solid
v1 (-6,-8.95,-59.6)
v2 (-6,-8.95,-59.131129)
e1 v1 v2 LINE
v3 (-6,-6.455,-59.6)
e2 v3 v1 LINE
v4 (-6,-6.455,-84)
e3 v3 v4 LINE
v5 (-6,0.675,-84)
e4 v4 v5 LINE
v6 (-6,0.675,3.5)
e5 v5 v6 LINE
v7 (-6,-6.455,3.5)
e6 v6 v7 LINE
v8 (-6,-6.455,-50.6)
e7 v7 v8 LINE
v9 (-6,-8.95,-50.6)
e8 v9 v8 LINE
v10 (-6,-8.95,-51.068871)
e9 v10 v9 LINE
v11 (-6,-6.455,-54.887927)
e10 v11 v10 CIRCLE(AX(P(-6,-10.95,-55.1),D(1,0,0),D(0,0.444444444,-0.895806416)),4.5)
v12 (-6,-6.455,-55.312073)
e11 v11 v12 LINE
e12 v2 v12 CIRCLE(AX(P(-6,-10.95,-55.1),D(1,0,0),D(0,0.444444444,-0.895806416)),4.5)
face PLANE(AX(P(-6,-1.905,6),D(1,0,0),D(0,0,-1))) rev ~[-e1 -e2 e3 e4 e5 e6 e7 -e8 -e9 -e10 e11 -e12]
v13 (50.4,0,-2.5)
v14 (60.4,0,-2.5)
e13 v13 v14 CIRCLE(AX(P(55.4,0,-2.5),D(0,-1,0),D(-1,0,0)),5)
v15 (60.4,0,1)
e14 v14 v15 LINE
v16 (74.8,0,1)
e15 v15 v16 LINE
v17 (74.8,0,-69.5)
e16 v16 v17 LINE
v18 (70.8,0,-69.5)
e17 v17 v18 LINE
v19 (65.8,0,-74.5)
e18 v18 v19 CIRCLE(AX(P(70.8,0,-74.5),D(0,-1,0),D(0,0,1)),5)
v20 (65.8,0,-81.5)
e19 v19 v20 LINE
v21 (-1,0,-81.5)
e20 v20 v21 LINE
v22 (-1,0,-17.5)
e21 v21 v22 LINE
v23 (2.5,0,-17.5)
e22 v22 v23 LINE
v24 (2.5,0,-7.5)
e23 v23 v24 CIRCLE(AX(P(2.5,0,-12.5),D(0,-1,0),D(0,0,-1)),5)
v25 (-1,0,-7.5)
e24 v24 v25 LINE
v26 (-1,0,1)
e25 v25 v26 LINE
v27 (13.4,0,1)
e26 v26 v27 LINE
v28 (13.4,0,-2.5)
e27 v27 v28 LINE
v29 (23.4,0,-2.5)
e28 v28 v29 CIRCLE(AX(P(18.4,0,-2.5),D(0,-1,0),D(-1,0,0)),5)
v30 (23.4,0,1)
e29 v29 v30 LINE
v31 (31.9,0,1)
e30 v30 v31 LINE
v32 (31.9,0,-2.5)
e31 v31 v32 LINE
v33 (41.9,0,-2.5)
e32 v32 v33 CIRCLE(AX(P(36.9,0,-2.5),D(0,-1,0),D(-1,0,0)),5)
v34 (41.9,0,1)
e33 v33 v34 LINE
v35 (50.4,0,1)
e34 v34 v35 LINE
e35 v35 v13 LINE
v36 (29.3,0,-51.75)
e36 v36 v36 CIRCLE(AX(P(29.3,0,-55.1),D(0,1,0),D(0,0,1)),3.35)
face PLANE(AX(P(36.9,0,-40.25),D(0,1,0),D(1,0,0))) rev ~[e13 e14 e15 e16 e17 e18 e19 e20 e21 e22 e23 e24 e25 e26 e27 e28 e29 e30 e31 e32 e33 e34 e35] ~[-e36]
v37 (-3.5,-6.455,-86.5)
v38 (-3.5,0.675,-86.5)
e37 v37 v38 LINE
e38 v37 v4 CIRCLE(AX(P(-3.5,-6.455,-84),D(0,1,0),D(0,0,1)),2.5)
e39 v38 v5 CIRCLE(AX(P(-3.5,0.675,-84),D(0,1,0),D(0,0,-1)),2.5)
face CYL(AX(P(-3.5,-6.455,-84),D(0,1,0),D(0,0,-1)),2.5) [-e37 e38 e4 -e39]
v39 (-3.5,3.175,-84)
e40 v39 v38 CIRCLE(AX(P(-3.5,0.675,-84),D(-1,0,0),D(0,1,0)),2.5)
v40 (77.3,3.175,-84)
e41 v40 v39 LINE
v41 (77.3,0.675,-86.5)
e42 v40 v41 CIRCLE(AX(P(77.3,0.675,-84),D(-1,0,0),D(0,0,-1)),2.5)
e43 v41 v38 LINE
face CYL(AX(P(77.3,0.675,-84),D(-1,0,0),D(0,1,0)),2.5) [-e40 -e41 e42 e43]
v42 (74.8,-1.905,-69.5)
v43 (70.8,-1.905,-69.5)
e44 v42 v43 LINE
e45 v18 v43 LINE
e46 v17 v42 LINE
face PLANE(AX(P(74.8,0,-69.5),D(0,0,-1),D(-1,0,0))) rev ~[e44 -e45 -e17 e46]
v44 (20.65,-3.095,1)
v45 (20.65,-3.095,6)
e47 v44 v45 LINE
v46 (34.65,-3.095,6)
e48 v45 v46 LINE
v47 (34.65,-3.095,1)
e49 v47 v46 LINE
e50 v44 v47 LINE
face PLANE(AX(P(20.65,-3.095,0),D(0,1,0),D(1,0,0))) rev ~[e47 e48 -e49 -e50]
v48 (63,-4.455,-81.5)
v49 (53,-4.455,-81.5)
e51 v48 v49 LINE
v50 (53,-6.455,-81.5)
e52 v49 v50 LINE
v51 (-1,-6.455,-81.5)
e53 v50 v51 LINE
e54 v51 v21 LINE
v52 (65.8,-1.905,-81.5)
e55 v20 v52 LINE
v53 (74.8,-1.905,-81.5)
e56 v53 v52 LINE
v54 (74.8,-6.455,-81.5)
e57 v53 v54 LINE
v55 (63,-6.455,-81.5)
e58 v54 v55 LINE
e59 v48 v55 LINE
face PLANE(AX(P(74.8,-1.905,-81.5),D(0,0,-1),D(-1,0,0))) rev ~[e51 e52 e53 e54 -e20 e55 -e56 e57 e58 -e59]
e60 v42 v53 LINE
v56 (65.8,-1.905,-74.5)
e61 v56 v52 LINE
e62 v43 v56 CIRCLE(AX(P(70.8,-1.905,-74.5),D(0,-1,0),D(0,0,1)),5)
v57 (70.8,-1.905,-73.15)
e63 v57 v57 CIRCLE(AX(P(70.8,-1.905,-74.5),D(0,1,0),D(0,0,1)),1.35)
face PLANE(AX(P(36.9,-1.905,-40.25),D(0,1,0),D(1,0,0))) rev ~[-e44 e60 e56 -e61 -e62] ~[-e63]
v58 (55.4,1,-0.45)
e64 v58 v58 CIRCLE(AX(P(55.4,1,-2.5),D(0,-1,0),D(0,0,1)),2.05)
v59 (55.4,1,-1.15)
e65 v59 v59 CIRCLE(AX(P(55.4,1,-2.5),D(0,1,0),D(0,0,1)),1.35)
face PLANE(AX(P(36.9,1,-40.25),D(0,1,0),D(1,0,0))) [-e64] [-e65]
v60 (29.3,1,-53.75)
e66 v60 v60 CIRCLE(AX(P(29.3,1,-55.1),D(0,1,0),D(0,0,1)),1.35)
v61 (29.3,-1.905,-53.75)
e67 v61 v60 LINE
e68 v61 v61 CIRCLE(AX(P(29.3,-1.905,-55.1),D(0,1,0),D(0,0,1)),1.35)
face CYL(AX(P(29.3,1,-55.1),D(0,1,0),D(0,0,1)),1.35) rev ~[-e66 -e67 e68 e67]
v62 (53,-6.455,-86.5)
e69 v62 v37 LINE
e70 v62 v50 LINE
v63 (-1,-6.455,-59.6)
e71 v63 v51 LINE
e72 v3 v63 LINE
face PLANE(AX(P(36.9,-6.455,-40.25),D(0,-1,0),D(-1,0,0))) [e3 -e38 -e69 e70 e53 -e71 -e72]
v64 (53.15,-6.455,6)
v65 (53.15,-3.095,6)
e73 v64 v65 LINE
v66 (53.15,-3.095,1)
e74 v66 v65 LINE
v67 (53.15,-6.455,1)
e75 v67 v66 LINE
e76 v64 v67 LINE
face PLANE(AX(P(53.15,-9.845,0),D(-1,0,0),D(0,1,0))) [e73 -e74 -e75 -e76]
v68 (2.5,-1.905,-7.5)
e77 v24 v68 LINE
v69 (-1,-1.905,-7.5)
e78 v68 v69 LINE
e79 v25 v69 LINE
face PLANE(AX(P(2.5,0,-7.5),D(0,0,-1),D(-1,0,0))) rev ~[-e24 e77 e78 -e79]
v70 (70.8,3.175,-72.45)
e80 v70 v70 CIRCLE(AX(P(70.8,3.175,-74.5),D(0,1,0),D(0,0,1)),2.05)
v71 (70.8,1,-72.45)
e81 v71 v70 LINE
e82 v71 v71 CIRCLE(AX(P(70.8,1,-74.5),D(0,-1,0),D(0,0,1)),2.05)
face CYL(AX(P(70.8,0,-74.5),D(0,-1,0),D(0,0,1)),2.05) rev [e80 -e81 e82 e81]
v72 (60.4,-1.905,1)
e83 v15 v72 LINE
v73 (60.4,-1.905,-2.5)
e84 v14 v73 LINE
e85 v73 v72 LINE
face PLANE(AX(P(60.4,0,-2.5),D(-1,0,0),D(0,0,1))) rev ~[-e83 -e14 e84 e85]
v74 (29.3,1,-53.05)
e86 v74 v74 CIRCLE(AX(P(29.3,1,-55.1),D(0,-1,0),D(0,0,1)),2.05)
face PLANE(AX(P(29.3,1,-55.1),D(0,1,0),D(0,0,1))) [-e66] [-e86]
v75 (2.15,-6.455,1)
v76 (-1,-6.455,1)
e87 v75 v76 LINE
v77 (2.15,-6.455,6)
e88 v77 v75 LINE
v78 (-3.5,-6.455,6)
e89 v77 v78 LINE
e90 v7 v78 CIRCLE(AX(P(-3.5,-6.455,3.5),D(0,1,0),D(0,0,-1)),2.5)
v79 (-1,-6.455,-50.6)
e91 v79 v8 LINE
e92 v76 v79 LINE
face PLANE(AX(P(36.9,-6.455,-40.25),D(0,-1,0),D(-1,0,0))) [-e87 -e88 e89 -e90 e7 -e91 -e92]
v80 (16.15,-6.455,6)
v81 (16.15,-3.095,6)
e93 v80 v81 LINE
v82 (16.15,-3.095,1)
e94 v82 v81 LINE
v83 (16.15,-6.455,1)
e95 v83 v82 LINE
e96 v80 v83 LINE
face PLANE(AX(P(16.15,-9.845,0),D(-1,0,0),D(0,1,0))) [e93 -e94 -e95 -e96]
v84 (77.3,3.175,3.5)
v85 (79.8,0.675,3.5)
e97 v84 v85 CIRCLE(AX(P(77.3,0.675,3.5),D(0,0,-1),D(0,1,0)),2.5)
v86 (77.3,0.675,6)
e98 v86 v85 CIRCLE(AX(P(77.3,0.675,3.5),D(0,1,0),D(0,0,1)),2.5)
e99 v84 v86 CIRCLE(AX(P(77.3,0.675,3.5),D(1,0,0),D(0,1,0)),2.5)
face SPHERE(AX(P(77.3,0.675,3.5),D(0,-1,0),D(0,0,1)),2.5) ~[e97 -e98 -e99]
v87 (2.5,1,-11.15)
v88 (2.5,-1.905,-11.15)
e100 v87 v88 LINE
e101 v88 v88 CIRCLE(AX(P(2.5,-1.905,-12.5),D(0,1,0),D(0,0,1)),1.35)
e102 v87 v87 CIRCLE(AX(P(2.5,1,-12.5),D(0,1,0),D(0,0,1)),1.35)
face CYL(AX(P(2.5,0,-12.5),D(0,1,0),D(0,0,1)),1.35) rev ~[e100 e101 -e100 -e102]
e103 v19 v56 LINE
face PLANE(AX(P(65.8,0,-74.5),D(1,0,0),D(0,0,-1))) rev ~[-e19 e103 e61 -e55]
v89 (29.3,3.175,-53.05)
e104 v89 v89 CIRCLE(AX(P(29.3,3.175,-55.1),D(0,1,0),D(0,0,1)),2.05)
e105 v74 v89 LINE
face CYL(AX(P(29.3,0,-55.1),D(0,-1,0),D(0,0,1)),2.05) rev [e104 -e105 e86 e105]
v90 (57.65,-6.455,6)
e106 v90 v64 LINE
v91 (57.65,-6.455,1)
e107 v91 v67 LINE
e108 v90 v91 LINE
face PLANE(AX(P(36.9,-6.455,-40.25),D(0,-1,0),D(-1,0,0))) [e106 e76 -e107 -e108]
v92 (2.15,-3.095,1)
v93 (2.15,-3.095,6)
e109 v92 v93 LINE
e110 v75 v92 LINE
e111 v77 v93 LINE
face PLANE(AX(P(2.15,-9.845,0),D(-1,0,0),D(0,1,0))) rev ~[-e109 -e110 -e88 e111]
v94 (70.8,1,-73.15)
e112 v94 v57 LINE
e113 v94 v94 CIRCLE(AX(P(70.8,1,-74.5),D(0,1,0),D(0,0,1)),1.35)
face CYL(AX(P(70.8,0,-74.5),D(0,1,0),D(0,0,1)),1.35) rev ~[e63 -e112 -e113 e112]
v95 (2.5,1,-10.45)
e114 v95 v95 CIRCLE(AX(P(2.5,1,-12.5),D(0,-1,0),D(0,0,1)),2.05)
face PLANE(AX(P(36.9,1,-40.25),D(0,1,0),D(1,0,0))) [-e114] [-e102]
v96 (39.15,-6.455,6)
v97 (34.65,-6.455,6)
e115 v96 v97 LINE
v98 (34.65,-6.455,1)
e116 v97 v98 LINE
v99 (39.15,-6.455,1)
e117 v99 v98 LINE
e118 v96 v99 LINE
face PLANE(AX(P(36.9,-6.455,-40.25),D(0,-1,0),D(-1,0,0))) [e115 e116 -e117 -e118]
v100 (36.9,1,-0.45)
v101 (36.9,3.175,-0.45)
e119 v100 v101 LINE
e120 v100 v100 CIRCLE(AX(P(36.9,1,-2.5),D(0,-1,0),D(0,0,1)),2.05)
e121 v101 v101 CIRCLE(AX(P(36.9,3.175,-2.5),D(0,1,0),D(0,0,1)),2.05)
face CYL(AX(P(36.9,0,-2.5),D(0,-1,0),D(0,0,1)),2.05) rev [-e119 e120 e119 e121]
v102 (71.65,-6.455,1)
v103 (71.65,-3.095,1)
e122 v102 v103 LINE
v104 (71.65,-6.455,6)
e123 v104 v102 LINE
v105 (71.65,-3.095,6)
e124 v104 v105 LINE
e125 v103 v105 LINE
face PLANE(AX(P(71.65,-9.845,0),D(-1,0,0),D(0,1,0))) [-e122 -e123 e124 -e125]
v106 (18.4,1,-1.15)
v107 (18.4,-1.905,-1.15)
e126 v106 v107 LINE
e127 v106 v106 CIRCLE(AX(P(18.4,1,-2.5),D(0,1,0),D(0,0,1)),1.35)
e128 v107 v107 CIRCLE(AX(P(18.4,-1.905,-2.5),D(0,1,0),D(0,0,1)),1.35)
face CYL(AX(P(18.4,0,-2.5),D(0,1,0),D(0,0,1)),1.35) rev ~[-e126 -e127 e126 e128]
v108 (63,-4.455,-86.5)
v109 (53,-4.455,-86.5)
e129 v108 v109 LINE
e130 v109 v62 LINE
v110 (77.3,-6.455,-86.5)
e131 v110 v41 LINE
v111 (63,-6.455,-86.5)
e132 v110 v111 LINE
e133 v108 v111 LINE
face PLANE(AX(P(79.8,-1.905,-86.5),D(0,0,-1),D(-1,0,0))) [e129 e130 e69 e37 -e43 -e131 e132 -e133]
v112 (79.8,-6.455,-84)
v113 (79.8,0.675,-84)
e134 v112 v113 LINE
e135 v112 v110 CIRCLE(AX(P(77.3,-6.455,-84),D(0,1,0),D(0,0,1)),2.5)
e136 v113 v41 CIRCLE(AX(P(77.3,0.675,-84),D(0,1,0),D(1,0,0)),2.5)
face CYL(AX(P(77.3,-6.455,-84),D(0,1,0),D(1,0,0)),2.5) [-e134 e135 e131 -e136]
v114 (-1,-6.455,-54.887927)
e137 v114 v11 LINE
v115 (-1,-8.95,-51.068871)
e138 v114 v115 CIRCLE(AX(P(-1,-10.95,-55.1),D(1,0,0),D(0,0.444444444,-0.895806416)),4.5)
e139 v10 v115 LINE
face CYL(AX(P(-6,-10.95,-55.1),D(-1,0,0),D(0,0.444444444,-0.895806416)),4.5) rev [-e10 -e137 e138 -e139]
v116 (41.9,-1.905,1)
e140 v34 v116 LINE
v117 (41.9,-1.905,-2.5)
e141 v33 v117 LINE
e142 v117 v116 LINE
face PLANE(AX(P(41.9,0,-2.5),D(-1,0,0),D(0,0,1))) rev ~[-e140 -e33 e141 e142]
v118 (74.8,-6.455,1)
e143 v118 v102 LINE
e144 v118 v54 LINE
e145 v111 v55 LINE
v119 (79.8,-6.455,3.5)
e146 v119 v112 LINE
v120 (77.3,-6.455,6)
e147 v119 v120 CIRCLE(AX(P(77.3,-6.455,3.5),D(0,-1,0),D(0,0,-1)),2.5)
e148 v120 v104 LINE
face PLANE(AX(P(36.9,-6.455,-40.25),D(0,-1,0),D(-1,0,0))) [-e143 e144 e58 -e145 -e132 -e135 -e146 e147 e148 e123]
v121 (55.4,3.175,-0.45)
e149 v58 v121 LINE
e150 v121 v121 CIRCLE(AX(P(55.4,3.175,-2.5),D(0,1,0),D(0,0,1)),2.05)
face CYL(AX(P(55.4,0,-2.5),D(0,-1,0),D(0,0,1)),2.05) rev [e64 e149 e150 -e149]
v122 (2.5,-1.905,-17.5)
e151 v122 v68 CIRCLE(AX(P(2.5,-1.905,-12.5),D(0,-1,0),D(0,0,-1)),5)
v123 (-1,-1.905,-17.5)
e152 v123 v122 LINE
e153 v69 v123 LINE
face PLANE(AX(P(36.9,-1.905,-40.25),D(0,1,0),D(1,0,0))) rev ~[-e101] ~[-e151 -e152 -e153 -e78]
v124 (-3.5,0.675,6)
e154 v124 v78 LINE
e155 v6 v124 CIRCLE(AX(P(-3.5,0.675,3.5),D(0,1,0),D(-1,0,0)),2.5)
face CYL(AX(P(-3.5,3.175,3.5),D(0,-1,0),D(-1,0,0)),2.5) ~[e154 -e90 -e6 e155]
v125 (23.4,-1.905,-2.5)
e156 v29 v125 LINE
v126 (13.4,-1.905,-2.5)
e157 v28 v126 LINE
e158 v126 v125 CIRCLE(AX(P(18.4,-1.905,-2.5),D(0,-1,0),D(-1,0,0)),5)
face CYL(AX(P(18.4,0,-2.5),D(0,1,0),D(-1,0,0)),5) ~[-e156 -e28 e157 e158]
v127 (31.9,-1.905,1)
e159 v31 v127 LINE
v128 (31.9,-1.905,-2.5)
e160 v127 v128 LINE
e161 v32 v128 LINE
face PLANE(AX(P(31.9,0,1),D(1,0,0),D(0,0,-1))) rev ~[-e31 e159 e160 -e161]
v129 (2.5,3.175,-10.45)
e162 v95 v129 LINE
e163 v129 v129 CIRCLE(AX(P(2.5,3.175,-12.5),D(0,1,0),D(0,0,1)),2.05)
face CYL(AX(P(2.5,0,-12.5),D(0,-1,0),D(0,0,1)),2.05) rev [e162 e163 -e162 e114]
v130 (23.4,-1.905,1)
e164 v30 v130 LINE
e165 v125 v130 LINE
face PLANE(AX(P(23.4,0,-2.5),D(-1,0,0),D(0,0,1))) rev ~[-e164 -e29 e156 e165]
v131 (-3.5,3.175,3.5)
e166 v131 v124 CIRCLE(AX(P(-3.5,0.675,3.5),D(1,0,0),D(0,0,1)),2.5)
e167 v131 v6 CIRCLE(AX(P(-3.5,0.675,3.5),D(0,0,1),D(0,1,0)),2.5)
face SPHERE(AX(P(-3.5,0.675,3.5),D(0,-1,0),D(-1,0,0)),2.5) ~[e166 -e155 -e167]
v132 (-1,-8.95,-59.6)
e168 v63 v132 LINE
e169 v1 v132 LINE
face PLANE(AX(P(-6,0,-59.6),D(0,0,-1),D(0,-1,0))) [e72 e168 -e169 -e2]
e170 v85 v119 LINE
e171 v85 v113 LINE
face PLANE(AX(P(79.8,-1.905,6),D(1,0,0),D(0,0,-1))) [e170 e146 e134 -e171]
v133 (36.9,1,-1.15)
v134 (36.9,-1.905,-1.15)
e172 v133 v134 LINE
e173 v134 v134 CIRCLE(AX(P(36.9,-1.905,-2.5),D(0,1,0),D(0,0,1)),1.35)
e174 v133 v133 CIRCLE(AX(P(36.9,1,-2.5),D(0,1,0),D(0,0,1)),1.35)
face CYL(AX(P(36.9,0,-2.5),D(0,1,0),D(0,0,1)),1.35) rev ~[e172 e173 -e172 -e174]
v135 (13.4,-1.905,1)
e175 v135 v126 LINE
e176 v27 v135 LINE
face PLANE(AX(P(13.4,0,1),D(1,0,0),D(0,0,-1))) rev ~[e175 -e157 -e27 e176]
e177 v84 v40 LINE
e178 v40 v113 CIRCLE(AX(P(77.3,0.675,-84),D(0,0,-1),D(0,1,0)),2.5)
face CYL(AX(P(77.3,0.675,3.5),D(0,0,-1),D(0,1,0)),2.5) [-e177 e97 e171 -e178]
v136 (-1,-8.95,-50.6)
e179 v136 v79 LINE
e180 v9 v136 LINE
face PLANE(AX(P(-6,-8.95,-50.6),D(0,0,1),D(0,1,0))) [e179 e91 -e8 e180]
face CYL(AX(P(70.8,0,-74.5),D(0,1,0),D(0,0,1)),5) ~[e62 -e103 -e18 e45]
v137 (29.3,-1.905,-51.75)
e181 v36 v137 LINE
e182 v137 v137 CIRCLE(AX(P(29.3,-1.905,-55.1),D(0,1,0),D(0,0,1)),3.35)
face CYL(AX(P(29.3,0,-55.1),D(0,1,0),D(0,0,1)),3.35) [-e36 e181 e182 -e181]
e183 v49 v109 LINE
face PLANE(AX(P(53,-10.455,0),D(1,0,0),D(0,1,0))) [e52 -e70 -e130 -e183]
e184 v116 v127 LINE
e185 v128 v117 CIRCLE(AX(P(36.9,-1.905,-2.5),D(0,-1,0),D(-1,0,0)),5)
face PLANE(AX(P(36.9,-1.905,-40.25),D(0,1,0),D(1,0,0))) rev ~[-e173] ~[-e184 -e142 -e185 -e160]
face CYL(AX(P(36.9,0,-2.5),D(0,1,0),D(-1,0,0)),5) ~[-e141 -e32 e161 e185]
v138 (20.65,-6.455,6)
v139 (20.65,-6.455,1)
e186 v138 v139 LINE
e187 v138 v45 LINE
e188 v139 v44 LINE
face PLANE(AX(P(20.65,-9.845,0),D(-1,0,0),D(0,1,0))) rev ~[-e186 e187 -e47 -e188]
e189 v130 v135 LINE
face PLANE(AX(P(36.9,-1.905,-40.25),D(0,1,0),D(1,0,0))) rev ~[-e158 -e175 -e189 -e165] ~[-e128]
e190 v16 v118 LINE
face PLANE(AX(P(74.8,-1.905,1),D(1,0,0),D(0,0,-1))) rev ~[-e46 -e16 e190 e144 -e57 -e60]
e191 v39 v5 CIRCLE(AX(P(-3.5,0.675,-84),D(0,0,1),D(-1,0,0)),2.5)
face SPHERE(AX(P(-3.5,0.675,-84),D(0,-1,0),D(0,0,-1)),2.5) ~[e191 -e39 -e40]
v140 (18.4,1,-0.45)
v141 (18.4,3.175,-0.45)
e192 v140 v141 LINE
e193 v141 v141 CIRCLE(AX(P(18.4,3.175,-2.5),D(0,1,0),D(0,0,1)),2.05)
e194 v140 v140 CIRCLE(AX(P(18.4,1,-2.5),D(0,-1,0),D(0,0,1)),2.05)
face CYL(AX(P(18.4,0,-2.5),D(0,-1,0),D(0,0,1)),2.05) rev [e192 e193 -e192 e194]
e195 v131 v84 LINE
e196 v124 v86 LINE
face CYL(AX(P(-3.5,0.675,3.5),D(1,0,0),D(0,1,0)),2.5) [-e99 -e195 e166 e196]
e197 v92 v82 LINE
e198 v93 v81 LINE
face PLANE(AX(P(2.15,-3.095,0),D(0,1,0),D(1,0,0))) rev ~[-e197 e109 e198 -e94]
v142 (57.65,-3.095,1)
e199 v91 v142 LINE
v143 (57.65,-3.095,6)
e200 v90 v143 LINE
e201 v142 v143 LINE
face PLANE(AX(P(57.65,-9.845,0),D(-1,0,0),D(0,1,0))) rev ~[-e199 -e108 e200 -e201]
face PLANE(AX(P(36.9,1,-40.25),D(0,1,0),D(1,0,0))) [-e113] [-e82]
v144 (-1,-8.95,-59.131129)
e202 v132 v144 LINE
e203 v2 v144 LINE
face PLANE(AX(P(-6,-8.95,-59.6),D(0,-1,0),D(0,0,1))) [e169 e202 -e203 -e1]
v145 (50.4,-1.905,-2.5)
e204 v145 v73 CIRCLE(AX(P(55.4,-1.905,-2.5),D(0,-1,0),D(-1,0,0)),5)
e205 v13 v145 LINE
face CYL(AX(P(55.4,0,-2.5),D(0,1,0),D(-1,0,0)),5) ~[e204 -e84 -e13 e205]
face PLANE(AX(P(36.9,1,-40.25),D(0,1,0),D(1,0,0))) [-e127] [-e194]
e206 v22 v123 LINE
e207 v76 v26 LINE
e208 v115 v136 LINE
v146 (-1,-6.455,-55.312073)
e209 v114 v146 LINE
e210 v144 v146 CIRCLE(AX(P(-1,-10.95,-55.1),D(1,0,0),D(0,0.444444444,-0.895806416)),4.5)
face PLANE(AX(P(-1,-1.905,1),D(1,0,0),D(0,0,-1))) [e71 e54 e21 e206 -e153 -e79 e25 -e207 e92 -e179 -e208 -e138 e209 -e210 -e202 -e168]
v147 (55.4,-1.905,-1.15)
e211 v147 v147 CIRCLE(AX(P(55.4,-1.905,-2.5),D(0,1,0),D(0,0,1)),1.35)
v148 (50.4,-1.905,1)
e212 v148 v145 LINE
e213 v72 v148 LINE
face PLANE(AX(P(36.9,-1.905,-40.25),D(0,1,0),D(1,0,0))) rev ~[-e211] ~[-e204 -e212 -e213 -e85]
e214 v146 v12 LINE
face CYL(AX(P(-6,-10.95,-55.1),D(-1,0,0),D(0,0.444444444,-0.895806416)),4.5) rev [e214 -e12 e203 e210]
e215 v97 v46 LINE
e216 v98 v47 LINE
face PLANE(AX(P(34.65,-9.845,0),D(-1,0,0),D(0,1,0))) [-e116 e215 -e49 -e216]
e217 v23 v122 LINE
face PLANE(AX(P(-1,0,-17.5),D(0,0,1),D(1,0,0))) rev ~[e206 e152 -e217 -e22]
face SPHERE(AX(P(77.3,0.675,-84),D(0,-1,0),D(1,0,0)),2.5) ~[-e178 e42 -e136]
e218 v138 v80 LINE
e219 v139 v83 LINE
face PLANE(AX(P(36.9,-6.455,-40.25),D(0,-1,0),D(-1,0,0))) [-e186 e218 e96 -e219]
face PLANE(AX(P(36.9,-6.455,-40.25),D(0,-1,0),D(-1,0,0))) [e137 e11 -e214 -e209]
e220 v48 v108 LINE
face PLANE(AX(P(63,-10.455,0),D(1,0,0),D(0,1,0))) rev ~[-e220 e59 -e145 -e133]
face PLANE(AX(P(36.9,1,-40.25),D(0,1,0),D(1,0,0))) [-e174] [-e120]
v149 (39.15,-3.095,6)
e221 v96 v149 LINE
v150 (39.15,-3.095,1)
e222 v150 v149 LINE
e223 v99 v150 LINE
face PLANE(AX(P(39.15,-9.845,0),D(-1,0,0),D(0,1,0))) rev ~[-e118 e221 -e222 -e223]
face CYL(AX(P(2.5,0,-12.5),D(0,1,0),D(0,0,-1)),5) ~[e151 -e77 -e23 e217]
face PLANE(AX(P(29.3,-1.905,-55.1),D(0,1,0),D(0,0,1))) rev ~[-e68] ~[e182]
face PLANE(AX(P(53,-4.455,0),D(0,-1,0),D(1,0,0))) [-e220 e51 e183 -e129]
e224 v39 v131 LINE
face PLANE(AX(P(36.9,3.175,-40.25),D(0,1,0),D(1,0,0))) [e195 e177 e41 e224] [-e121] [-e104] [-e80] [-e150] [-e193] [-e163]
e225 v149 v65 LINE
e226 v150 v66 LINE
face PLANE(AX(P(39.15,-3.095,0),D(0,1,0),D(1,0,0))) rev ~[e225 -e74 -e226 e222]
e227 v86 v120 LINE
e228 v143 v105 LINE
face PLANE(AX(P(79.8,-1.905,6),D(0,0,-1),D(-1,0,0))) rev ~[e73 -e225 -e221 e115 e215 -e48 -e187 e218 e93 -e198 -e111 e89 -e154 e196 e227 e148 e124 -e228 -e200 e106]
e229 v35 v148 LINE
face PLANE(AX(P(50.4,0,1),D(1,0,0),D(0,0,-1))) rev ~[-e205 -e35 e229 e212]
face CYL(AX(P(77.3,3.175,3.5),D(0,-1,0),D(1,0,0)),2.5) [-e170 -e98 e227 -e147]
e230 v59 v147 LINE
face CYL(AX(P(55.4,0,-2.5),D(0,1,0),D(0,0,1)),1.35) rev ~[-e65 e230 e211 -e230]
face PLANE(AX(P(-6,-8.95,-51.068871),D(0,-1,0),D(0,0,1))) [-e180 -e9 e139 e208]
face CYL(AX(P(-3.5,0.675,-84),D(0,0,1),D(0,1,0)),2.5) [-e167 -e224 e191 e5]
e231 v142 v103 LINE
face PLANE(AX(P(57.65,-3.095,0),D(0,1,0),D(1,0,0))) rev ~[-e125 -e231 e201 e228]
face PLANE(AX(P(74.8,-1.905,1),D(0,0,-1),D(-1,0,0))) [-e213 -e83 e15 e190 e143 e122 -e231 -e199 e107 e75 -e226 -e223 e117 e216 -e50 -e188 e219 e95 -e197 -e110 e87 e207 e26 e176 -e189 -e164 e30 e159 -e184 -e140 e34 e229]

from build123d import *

# Parameters (mm, degrees)
SKETCH1_W           = 85.8
SKETCH1_H           = 92.5
SKETCH1_R           = 2.05
BOSS_EXTRUDE1_DEPTH = 3.175
SKETCH2_W           = 85.8
SKETCH2_H           = 92.5
SKETCH2_R           = 1.35
SKETCH2_R_2         = 3.35
BOSS_EXTRUDE2_DEPTH = 1.905
BOSS_EXTRUDE3_START = 1
SKETCH2_3_W         = 85.8
SKETCH2_3_H         = 92.5
SKETCH2_3_R         = 1.35
SKETCH2_3_R_2       = 3.35
BOSS_EXTRUDE3_DEPTH = 1
SKETCH3_W           = 85.8
SKETCH3_H           = 92.5
SKETCH3_W_2         = 75.8
SKETCH3_H_2         = 82.5
BOSS_EXTRUDE4_DEPTH = 4.55
SKETCH4_W           = 14
SKETCH4_H           = 6.75
CUT_EXTRUDE1_DEPTH  = 118.864146478
SKETCH5_W           = 10
SKETCH5_H           = 6
CUT_EXTRUDE2_DEPTH  = 118.864146478
BOSS_EXTRUDE5_DEPTH = 5
FILLET1_R           = 2.5
FILLET2_R           = 2.5
FILLET3_R           = 2.5
FILLET4_R           = 2.5
FILLET5_R           = 2.5


with BuildPart() as part:
    # Sketch1 → Boss-Extrude1 (new body)
    with BuildSketch(Plane(origin=(0, 0, 0), x_dir=(1, 0, 0), z_dir=(0, 1, 0))):
        with Locations((36.9, 40.25)):
            Rectangle(SKETCH1_W, SKETCH1_H)
        with Locations((2.5, 12.5)):
            Circle(SKETCH1_R, mode=Mode.SUBTRACT)
        with Locations((18.4, 2.5)):
            Circle(SKETCH1_R, mode=Mode.SUBTRACT)
        with Locations((36.9, 2.5)):
            Circle(SKETCH1_R, mode=Mode.SUBTRACT)
        with Locations((55.4, 2.5)):
            Circle(SKETCH1_R, mode=Mode.SUBTRACT)
        with Locations((29.3, 55.1)):
            Circle(SKETCH1_R, mode=Mode.SUBTRACT)
        with Locations((70.8, 74.5)):
            Circle(SKETCH1_R, mode=Mode.SUBTRACT)
    extrude(amount=BOSS_EXTRUDE1_DEPTH)

    # Sketch2 → Boss-Extrude2 (add)
    # profile 1 of 2: a face of its own
    with BuildSketch(Plane(origin=(0, 0, 0), x_dir=(1, 0, 0), z_dir=(0, 1, 0))):
        with Locations((36.9, 40.25)):
            Rectangle(SKETCH2_W, SKETCH2_H)
        with Locations((2.5, 12.5)):
            Circle(SKETCH2_R, mode=Mode.SUBTRACT)
        with Locations((18.4, 2.5)):
            Circle(SKETCH2_R, mode=Mode.SUBTRACT)
        with Locations((36.9, 2.5)):
            Circle(SKETCH2_R, mode=Mode.SUBTRACT)
        with Locations((55.4, 2.5)):
            Circle(SKETCH2_R, mode=Mode.SUBTRACT)
        with BuildLine():
            Line((-1, 7.5), (2.5, 7.5))
            ThreePointArc((2.5, 7.5), (7.5, 12.5), (2.5, 17.5))
            Line((2.5, 17.5), (-1, 17.5))
            Line((-1, 17.5), (-1, 81.5))
            Line((-1, 81.5), (65.8, 81.5))
            Line((65.8, 81.5), (65.8, 74.5))
            ThreePointArc((65.8, 74.5), (67.264466094, 70.964466094), (70.8, 69.5))
            Line((70.8, 69.5), (74.8, 69.5))
            Line((74.8, 69.5), (74.8, -1))
            Line((74.8, -1), (60.4, -1))
            Line((60.4, -1), (60.4, 2.5))
            ThreePointArc((60.4, 2.5), (55.4, 7.5), (50.4, 2.5))
            Line((50.4, 2.5), (50.4, -1))
            Line((50.4, -1), (41.9, -1))
            Line((41.9, -1), (41.9, 2.5))
            ThreePointArc((41.9, 2.5), (36.9, 7.5), (31.9, 2.5))
            Line((31.9, 2.5), (31.9, -1))
            Line((31.9, -1), (23.4, -1))
            Line((23.4, -1), (23.4, 2.5))
            ThreePointArc((23.4, 2.5), (18.4, 7.5), (13.4, 2.5))
            Line((13.4, 2.5), (13.4, -1))
            Line((13.4, -1), (-1, -1))
            Line((-1, -1), (-1, 7.5))
        make_face(mode=Mode.SUBTRACT)
        with Locations((70.8, 74.5)):
            Circle(SKETCH2_R, mode=Mode.SUBTRACT)
    # profile 2 of 2: a face of its own
    with BuildSketch(Plane(origin=(0, 0, 0), x_dir=(1, 0, 0), z_dir=(0, 1, 0))):
        with Locations((29.3, 55.1)):
            Circle(SKETCH2_R_2)
        with Locations((29.3, 55.1)):
            Circle(SKETCH2_R, mode=Mode.SUBTRACT)
    extrude(amount=-BOSS_EXTRUDE2_DEPTH)

    # Sketch2<3> → Boss-Extrude3 (add)
    # profile 1 of 2: a face of its own
    with BuildSketch(Plane(origin=(0, 0, 0), x_dir=(1, 0, 0), z_dir=(0, 1, 0)).offset(BOSS_EXTRUDE3_START)):
        with Locations((36.9, 40.25)):
            Rectangle(SKETCH2_3_W, SKETCH2_3_H)
        with Locations((2.5, 12.5)):
            Circle(SKETCH2_3_R, mode=Mode.SUBTRACT)
        with Locations((18.4, 2.5)):
            Circle(SKETCH2_3_R, mode=Mode.SUBTRACT)
        with Locations((36.9, 2.5)):
            Circle(SKETCH2_3_R, mode=Mode.SUBTRACT)
        with Locations((55.4, 2.5)):
            Circle(SKETCH2_3_R, mode=Mode.SUBTRACT)
        with BuildLine():
            Line((-1, 7.5), (2.5, 7.5))
            ThreePointArc((2.5, 7.5), (7.5, 12.5), (2.5, 17.5))
            Line((2.5, 17.5), (-1, 17.5))
            Line((-1, 17.5), (-1, 81.5))
            Line((-1, 81.5), (65.8, 81.5))
            Line((65.8, 81.5), (65.8, 74.5))
            ThreePointArc((65.8, 74.5), (67.264466094, 70.964466094), (70.8, 69.5))
            Line((70.8, 69.5), (74.8, 69.5))
            Line((74.8, 69.5), (74.8, -1))
            Line((74.8, -1), (60.4, -1))
            Line((60.4, -1), (60.4, 2.5))
            ThreePointArc((60.4, 2.5), (55.4, 7.5), (50.4, 2.5))
            Line((50.4, 2.5), (50.4, -1))
            Line((50.4, -1), (41.9, -1))
            Line((41.9, -1), (41.9, 2.5))
            ThreePointArc((41.9, 2.5), (36.9, 7.5), (31.9, 2.5))
            Line((31.9, 2.5), (31.9, -1))
            Line((31.9, -1), (23.4, -1))
            Line((23.4, -1), (23.4, 2.5))
            ThreePointArc((23.4, 2.5), (18.4, 7.5), (13.4, 2.5))
            Line((13.4, 2.5), (13.4, -1))
            Line((13.4, -1), (-1, -1))
            Line((-1, -1), (-1, 7.5))
        make_face(mode=Mode.SUBTRACT)
        with Locations((70.8, 74.5)):
            Circle(SKETCH2_3_R, mode=Mode.SUBTRACT)
    # profile 2 of 2: a face of its own
    with BuildSketch(Plane(origin=(0, 0, 0), x_dir=(1, 0, 0), z_dir=(0, 1, 0)).offset(BOSS_EXTRUDE3_START)):
        with Locations((29.3, 55.1)):
            Circle(SKETCH2_3_R_2)
        with Locations((29.3, 55.1)):
            Circle(SKETCH2_3_R, mode=Mode.SUBTRACT)
    extrude(amount=-BOSS_EXTRUDE3_DEPTH)

    # Sketch3 → Boss-Extrude4 (add)
    with BuildSketch(Plane(origin=(0, -1.905, 0), x_dir=(-1, 0, 0), z_dir=(0, -1, 0))):
        with Locations((-36.9, 40.25)):
            Rectangle(SKETCH3_W, SKETCH3_H)
        with Locations((-36.9, 40.25)):
            Rectangle(SKETCH3_W_2, SKETCH3_H_2, mode=Mode.SUBTRACT)
    extrude(amount=BOSS_EXTRUDE4_DEPTH)

    # Sketch4 → Cut-Extrude1 (cut, through all)
    with BuildSketch(Plane.XY):
        with Locations((9.15, -6.47)):
            Rectangle(SKETCH4_W, SKETCH4_H)
        with Locations((27.65, -6.47)):
            Rectangle(SKETCH4_W, SKETCH4_H)
        with Locations((46.15, -6.47)):
            Rectangle(SKETCH4_W, SKETCH4_H)
        with Locations((64.65, -6.47)):
            Rectangle(SKETCH4_W, SKETCH4_H)
    extrude(amount=CUT_EXTRUDE1_DEPTH, mode=Mode.SUBTRACT)

    # Sketch5 → Cut-Extrude2 (cut, through all)
    with BuildSketch(Plane.XY):
        with Locations((58, -7.455)):
            Rectangle(SKETCH5_W, SKETCH5_H)
    extrude(amount=-CUT_EXTRUDE2_DEPTH, mode=Mode.SUBTRACT)

    # Sketch6 → Boss-Extrude5 (add)
    with BuildSketch(Plane.ZY.offset(6)):
        with BuildLine():
            Line((-59.6, 0), (-59.6, -8.95))
            Line((-59.6, -8.95), (-59.131128874, -8.95))
            ThreePointArc((-59.131128874, -8.95), (-55.1, -6.45), (-51.068871126, -8.95))
            Line((-51.068871126, -8.95), (-50.6, -8.95))
            Line((-50.6, -8.95), (-50.6, 0))
            Line((-50.6, 0), (-59.6, 0))
        make_face()
    extrude(amount=-BOSS_EXTRUDE5_DEPTH)

    # Fillet1
    fillet1_edges = [part.edges().sort_by_distance(p)[0] for p in [
        (79.8, -1.64, 6),
    ]]
    fillet(fillet1_edges, radius=FILLET1_R)

    # Fillet2
    fillet2_edges = [part.edges().sort_by_distance(p)[0] for p in [
        (79.8, -1.64, -86.5),
    ]]
    fillet(fillet2_edges, radius=FILLET2_R)

    # Fillet3
    fillet3_edges = [part.edges().sort_by_distance(p)[0] for p in [
        (-6, -1.64, -86.5),
    ]]
    fillet(fillet3_edges, radius=FILLET3_R)

    # Fillet4
    fillet4_edges = [part.edges().sort_by_distance(p)[0] for p in [
        (-6, -1.64, 6),
    ]]
    fillet(fillet4_edges, radius=FILLET4_R)

    # Fillet5
    fillet5_edges = [part.edges().sort_by_distance(p)[0] for p in [
        (79.067766953, 3.175, -85.767766953),
        (79.8, 3.175, -40.25),
        (79.067766953, 3.175, 5.267766953),
        (36.9, 3.175, 6),
        (-5.267766953, 3.175, 5.267766953),
        (-6, 3.175, -40.25),
        (-5.267766953, 3.175, -85.767766953),
        (36.9, 3.175, -86.5),
    ]]
    fillet(fillet5_edges, radius=FILLET5_R)


solid = part.part
